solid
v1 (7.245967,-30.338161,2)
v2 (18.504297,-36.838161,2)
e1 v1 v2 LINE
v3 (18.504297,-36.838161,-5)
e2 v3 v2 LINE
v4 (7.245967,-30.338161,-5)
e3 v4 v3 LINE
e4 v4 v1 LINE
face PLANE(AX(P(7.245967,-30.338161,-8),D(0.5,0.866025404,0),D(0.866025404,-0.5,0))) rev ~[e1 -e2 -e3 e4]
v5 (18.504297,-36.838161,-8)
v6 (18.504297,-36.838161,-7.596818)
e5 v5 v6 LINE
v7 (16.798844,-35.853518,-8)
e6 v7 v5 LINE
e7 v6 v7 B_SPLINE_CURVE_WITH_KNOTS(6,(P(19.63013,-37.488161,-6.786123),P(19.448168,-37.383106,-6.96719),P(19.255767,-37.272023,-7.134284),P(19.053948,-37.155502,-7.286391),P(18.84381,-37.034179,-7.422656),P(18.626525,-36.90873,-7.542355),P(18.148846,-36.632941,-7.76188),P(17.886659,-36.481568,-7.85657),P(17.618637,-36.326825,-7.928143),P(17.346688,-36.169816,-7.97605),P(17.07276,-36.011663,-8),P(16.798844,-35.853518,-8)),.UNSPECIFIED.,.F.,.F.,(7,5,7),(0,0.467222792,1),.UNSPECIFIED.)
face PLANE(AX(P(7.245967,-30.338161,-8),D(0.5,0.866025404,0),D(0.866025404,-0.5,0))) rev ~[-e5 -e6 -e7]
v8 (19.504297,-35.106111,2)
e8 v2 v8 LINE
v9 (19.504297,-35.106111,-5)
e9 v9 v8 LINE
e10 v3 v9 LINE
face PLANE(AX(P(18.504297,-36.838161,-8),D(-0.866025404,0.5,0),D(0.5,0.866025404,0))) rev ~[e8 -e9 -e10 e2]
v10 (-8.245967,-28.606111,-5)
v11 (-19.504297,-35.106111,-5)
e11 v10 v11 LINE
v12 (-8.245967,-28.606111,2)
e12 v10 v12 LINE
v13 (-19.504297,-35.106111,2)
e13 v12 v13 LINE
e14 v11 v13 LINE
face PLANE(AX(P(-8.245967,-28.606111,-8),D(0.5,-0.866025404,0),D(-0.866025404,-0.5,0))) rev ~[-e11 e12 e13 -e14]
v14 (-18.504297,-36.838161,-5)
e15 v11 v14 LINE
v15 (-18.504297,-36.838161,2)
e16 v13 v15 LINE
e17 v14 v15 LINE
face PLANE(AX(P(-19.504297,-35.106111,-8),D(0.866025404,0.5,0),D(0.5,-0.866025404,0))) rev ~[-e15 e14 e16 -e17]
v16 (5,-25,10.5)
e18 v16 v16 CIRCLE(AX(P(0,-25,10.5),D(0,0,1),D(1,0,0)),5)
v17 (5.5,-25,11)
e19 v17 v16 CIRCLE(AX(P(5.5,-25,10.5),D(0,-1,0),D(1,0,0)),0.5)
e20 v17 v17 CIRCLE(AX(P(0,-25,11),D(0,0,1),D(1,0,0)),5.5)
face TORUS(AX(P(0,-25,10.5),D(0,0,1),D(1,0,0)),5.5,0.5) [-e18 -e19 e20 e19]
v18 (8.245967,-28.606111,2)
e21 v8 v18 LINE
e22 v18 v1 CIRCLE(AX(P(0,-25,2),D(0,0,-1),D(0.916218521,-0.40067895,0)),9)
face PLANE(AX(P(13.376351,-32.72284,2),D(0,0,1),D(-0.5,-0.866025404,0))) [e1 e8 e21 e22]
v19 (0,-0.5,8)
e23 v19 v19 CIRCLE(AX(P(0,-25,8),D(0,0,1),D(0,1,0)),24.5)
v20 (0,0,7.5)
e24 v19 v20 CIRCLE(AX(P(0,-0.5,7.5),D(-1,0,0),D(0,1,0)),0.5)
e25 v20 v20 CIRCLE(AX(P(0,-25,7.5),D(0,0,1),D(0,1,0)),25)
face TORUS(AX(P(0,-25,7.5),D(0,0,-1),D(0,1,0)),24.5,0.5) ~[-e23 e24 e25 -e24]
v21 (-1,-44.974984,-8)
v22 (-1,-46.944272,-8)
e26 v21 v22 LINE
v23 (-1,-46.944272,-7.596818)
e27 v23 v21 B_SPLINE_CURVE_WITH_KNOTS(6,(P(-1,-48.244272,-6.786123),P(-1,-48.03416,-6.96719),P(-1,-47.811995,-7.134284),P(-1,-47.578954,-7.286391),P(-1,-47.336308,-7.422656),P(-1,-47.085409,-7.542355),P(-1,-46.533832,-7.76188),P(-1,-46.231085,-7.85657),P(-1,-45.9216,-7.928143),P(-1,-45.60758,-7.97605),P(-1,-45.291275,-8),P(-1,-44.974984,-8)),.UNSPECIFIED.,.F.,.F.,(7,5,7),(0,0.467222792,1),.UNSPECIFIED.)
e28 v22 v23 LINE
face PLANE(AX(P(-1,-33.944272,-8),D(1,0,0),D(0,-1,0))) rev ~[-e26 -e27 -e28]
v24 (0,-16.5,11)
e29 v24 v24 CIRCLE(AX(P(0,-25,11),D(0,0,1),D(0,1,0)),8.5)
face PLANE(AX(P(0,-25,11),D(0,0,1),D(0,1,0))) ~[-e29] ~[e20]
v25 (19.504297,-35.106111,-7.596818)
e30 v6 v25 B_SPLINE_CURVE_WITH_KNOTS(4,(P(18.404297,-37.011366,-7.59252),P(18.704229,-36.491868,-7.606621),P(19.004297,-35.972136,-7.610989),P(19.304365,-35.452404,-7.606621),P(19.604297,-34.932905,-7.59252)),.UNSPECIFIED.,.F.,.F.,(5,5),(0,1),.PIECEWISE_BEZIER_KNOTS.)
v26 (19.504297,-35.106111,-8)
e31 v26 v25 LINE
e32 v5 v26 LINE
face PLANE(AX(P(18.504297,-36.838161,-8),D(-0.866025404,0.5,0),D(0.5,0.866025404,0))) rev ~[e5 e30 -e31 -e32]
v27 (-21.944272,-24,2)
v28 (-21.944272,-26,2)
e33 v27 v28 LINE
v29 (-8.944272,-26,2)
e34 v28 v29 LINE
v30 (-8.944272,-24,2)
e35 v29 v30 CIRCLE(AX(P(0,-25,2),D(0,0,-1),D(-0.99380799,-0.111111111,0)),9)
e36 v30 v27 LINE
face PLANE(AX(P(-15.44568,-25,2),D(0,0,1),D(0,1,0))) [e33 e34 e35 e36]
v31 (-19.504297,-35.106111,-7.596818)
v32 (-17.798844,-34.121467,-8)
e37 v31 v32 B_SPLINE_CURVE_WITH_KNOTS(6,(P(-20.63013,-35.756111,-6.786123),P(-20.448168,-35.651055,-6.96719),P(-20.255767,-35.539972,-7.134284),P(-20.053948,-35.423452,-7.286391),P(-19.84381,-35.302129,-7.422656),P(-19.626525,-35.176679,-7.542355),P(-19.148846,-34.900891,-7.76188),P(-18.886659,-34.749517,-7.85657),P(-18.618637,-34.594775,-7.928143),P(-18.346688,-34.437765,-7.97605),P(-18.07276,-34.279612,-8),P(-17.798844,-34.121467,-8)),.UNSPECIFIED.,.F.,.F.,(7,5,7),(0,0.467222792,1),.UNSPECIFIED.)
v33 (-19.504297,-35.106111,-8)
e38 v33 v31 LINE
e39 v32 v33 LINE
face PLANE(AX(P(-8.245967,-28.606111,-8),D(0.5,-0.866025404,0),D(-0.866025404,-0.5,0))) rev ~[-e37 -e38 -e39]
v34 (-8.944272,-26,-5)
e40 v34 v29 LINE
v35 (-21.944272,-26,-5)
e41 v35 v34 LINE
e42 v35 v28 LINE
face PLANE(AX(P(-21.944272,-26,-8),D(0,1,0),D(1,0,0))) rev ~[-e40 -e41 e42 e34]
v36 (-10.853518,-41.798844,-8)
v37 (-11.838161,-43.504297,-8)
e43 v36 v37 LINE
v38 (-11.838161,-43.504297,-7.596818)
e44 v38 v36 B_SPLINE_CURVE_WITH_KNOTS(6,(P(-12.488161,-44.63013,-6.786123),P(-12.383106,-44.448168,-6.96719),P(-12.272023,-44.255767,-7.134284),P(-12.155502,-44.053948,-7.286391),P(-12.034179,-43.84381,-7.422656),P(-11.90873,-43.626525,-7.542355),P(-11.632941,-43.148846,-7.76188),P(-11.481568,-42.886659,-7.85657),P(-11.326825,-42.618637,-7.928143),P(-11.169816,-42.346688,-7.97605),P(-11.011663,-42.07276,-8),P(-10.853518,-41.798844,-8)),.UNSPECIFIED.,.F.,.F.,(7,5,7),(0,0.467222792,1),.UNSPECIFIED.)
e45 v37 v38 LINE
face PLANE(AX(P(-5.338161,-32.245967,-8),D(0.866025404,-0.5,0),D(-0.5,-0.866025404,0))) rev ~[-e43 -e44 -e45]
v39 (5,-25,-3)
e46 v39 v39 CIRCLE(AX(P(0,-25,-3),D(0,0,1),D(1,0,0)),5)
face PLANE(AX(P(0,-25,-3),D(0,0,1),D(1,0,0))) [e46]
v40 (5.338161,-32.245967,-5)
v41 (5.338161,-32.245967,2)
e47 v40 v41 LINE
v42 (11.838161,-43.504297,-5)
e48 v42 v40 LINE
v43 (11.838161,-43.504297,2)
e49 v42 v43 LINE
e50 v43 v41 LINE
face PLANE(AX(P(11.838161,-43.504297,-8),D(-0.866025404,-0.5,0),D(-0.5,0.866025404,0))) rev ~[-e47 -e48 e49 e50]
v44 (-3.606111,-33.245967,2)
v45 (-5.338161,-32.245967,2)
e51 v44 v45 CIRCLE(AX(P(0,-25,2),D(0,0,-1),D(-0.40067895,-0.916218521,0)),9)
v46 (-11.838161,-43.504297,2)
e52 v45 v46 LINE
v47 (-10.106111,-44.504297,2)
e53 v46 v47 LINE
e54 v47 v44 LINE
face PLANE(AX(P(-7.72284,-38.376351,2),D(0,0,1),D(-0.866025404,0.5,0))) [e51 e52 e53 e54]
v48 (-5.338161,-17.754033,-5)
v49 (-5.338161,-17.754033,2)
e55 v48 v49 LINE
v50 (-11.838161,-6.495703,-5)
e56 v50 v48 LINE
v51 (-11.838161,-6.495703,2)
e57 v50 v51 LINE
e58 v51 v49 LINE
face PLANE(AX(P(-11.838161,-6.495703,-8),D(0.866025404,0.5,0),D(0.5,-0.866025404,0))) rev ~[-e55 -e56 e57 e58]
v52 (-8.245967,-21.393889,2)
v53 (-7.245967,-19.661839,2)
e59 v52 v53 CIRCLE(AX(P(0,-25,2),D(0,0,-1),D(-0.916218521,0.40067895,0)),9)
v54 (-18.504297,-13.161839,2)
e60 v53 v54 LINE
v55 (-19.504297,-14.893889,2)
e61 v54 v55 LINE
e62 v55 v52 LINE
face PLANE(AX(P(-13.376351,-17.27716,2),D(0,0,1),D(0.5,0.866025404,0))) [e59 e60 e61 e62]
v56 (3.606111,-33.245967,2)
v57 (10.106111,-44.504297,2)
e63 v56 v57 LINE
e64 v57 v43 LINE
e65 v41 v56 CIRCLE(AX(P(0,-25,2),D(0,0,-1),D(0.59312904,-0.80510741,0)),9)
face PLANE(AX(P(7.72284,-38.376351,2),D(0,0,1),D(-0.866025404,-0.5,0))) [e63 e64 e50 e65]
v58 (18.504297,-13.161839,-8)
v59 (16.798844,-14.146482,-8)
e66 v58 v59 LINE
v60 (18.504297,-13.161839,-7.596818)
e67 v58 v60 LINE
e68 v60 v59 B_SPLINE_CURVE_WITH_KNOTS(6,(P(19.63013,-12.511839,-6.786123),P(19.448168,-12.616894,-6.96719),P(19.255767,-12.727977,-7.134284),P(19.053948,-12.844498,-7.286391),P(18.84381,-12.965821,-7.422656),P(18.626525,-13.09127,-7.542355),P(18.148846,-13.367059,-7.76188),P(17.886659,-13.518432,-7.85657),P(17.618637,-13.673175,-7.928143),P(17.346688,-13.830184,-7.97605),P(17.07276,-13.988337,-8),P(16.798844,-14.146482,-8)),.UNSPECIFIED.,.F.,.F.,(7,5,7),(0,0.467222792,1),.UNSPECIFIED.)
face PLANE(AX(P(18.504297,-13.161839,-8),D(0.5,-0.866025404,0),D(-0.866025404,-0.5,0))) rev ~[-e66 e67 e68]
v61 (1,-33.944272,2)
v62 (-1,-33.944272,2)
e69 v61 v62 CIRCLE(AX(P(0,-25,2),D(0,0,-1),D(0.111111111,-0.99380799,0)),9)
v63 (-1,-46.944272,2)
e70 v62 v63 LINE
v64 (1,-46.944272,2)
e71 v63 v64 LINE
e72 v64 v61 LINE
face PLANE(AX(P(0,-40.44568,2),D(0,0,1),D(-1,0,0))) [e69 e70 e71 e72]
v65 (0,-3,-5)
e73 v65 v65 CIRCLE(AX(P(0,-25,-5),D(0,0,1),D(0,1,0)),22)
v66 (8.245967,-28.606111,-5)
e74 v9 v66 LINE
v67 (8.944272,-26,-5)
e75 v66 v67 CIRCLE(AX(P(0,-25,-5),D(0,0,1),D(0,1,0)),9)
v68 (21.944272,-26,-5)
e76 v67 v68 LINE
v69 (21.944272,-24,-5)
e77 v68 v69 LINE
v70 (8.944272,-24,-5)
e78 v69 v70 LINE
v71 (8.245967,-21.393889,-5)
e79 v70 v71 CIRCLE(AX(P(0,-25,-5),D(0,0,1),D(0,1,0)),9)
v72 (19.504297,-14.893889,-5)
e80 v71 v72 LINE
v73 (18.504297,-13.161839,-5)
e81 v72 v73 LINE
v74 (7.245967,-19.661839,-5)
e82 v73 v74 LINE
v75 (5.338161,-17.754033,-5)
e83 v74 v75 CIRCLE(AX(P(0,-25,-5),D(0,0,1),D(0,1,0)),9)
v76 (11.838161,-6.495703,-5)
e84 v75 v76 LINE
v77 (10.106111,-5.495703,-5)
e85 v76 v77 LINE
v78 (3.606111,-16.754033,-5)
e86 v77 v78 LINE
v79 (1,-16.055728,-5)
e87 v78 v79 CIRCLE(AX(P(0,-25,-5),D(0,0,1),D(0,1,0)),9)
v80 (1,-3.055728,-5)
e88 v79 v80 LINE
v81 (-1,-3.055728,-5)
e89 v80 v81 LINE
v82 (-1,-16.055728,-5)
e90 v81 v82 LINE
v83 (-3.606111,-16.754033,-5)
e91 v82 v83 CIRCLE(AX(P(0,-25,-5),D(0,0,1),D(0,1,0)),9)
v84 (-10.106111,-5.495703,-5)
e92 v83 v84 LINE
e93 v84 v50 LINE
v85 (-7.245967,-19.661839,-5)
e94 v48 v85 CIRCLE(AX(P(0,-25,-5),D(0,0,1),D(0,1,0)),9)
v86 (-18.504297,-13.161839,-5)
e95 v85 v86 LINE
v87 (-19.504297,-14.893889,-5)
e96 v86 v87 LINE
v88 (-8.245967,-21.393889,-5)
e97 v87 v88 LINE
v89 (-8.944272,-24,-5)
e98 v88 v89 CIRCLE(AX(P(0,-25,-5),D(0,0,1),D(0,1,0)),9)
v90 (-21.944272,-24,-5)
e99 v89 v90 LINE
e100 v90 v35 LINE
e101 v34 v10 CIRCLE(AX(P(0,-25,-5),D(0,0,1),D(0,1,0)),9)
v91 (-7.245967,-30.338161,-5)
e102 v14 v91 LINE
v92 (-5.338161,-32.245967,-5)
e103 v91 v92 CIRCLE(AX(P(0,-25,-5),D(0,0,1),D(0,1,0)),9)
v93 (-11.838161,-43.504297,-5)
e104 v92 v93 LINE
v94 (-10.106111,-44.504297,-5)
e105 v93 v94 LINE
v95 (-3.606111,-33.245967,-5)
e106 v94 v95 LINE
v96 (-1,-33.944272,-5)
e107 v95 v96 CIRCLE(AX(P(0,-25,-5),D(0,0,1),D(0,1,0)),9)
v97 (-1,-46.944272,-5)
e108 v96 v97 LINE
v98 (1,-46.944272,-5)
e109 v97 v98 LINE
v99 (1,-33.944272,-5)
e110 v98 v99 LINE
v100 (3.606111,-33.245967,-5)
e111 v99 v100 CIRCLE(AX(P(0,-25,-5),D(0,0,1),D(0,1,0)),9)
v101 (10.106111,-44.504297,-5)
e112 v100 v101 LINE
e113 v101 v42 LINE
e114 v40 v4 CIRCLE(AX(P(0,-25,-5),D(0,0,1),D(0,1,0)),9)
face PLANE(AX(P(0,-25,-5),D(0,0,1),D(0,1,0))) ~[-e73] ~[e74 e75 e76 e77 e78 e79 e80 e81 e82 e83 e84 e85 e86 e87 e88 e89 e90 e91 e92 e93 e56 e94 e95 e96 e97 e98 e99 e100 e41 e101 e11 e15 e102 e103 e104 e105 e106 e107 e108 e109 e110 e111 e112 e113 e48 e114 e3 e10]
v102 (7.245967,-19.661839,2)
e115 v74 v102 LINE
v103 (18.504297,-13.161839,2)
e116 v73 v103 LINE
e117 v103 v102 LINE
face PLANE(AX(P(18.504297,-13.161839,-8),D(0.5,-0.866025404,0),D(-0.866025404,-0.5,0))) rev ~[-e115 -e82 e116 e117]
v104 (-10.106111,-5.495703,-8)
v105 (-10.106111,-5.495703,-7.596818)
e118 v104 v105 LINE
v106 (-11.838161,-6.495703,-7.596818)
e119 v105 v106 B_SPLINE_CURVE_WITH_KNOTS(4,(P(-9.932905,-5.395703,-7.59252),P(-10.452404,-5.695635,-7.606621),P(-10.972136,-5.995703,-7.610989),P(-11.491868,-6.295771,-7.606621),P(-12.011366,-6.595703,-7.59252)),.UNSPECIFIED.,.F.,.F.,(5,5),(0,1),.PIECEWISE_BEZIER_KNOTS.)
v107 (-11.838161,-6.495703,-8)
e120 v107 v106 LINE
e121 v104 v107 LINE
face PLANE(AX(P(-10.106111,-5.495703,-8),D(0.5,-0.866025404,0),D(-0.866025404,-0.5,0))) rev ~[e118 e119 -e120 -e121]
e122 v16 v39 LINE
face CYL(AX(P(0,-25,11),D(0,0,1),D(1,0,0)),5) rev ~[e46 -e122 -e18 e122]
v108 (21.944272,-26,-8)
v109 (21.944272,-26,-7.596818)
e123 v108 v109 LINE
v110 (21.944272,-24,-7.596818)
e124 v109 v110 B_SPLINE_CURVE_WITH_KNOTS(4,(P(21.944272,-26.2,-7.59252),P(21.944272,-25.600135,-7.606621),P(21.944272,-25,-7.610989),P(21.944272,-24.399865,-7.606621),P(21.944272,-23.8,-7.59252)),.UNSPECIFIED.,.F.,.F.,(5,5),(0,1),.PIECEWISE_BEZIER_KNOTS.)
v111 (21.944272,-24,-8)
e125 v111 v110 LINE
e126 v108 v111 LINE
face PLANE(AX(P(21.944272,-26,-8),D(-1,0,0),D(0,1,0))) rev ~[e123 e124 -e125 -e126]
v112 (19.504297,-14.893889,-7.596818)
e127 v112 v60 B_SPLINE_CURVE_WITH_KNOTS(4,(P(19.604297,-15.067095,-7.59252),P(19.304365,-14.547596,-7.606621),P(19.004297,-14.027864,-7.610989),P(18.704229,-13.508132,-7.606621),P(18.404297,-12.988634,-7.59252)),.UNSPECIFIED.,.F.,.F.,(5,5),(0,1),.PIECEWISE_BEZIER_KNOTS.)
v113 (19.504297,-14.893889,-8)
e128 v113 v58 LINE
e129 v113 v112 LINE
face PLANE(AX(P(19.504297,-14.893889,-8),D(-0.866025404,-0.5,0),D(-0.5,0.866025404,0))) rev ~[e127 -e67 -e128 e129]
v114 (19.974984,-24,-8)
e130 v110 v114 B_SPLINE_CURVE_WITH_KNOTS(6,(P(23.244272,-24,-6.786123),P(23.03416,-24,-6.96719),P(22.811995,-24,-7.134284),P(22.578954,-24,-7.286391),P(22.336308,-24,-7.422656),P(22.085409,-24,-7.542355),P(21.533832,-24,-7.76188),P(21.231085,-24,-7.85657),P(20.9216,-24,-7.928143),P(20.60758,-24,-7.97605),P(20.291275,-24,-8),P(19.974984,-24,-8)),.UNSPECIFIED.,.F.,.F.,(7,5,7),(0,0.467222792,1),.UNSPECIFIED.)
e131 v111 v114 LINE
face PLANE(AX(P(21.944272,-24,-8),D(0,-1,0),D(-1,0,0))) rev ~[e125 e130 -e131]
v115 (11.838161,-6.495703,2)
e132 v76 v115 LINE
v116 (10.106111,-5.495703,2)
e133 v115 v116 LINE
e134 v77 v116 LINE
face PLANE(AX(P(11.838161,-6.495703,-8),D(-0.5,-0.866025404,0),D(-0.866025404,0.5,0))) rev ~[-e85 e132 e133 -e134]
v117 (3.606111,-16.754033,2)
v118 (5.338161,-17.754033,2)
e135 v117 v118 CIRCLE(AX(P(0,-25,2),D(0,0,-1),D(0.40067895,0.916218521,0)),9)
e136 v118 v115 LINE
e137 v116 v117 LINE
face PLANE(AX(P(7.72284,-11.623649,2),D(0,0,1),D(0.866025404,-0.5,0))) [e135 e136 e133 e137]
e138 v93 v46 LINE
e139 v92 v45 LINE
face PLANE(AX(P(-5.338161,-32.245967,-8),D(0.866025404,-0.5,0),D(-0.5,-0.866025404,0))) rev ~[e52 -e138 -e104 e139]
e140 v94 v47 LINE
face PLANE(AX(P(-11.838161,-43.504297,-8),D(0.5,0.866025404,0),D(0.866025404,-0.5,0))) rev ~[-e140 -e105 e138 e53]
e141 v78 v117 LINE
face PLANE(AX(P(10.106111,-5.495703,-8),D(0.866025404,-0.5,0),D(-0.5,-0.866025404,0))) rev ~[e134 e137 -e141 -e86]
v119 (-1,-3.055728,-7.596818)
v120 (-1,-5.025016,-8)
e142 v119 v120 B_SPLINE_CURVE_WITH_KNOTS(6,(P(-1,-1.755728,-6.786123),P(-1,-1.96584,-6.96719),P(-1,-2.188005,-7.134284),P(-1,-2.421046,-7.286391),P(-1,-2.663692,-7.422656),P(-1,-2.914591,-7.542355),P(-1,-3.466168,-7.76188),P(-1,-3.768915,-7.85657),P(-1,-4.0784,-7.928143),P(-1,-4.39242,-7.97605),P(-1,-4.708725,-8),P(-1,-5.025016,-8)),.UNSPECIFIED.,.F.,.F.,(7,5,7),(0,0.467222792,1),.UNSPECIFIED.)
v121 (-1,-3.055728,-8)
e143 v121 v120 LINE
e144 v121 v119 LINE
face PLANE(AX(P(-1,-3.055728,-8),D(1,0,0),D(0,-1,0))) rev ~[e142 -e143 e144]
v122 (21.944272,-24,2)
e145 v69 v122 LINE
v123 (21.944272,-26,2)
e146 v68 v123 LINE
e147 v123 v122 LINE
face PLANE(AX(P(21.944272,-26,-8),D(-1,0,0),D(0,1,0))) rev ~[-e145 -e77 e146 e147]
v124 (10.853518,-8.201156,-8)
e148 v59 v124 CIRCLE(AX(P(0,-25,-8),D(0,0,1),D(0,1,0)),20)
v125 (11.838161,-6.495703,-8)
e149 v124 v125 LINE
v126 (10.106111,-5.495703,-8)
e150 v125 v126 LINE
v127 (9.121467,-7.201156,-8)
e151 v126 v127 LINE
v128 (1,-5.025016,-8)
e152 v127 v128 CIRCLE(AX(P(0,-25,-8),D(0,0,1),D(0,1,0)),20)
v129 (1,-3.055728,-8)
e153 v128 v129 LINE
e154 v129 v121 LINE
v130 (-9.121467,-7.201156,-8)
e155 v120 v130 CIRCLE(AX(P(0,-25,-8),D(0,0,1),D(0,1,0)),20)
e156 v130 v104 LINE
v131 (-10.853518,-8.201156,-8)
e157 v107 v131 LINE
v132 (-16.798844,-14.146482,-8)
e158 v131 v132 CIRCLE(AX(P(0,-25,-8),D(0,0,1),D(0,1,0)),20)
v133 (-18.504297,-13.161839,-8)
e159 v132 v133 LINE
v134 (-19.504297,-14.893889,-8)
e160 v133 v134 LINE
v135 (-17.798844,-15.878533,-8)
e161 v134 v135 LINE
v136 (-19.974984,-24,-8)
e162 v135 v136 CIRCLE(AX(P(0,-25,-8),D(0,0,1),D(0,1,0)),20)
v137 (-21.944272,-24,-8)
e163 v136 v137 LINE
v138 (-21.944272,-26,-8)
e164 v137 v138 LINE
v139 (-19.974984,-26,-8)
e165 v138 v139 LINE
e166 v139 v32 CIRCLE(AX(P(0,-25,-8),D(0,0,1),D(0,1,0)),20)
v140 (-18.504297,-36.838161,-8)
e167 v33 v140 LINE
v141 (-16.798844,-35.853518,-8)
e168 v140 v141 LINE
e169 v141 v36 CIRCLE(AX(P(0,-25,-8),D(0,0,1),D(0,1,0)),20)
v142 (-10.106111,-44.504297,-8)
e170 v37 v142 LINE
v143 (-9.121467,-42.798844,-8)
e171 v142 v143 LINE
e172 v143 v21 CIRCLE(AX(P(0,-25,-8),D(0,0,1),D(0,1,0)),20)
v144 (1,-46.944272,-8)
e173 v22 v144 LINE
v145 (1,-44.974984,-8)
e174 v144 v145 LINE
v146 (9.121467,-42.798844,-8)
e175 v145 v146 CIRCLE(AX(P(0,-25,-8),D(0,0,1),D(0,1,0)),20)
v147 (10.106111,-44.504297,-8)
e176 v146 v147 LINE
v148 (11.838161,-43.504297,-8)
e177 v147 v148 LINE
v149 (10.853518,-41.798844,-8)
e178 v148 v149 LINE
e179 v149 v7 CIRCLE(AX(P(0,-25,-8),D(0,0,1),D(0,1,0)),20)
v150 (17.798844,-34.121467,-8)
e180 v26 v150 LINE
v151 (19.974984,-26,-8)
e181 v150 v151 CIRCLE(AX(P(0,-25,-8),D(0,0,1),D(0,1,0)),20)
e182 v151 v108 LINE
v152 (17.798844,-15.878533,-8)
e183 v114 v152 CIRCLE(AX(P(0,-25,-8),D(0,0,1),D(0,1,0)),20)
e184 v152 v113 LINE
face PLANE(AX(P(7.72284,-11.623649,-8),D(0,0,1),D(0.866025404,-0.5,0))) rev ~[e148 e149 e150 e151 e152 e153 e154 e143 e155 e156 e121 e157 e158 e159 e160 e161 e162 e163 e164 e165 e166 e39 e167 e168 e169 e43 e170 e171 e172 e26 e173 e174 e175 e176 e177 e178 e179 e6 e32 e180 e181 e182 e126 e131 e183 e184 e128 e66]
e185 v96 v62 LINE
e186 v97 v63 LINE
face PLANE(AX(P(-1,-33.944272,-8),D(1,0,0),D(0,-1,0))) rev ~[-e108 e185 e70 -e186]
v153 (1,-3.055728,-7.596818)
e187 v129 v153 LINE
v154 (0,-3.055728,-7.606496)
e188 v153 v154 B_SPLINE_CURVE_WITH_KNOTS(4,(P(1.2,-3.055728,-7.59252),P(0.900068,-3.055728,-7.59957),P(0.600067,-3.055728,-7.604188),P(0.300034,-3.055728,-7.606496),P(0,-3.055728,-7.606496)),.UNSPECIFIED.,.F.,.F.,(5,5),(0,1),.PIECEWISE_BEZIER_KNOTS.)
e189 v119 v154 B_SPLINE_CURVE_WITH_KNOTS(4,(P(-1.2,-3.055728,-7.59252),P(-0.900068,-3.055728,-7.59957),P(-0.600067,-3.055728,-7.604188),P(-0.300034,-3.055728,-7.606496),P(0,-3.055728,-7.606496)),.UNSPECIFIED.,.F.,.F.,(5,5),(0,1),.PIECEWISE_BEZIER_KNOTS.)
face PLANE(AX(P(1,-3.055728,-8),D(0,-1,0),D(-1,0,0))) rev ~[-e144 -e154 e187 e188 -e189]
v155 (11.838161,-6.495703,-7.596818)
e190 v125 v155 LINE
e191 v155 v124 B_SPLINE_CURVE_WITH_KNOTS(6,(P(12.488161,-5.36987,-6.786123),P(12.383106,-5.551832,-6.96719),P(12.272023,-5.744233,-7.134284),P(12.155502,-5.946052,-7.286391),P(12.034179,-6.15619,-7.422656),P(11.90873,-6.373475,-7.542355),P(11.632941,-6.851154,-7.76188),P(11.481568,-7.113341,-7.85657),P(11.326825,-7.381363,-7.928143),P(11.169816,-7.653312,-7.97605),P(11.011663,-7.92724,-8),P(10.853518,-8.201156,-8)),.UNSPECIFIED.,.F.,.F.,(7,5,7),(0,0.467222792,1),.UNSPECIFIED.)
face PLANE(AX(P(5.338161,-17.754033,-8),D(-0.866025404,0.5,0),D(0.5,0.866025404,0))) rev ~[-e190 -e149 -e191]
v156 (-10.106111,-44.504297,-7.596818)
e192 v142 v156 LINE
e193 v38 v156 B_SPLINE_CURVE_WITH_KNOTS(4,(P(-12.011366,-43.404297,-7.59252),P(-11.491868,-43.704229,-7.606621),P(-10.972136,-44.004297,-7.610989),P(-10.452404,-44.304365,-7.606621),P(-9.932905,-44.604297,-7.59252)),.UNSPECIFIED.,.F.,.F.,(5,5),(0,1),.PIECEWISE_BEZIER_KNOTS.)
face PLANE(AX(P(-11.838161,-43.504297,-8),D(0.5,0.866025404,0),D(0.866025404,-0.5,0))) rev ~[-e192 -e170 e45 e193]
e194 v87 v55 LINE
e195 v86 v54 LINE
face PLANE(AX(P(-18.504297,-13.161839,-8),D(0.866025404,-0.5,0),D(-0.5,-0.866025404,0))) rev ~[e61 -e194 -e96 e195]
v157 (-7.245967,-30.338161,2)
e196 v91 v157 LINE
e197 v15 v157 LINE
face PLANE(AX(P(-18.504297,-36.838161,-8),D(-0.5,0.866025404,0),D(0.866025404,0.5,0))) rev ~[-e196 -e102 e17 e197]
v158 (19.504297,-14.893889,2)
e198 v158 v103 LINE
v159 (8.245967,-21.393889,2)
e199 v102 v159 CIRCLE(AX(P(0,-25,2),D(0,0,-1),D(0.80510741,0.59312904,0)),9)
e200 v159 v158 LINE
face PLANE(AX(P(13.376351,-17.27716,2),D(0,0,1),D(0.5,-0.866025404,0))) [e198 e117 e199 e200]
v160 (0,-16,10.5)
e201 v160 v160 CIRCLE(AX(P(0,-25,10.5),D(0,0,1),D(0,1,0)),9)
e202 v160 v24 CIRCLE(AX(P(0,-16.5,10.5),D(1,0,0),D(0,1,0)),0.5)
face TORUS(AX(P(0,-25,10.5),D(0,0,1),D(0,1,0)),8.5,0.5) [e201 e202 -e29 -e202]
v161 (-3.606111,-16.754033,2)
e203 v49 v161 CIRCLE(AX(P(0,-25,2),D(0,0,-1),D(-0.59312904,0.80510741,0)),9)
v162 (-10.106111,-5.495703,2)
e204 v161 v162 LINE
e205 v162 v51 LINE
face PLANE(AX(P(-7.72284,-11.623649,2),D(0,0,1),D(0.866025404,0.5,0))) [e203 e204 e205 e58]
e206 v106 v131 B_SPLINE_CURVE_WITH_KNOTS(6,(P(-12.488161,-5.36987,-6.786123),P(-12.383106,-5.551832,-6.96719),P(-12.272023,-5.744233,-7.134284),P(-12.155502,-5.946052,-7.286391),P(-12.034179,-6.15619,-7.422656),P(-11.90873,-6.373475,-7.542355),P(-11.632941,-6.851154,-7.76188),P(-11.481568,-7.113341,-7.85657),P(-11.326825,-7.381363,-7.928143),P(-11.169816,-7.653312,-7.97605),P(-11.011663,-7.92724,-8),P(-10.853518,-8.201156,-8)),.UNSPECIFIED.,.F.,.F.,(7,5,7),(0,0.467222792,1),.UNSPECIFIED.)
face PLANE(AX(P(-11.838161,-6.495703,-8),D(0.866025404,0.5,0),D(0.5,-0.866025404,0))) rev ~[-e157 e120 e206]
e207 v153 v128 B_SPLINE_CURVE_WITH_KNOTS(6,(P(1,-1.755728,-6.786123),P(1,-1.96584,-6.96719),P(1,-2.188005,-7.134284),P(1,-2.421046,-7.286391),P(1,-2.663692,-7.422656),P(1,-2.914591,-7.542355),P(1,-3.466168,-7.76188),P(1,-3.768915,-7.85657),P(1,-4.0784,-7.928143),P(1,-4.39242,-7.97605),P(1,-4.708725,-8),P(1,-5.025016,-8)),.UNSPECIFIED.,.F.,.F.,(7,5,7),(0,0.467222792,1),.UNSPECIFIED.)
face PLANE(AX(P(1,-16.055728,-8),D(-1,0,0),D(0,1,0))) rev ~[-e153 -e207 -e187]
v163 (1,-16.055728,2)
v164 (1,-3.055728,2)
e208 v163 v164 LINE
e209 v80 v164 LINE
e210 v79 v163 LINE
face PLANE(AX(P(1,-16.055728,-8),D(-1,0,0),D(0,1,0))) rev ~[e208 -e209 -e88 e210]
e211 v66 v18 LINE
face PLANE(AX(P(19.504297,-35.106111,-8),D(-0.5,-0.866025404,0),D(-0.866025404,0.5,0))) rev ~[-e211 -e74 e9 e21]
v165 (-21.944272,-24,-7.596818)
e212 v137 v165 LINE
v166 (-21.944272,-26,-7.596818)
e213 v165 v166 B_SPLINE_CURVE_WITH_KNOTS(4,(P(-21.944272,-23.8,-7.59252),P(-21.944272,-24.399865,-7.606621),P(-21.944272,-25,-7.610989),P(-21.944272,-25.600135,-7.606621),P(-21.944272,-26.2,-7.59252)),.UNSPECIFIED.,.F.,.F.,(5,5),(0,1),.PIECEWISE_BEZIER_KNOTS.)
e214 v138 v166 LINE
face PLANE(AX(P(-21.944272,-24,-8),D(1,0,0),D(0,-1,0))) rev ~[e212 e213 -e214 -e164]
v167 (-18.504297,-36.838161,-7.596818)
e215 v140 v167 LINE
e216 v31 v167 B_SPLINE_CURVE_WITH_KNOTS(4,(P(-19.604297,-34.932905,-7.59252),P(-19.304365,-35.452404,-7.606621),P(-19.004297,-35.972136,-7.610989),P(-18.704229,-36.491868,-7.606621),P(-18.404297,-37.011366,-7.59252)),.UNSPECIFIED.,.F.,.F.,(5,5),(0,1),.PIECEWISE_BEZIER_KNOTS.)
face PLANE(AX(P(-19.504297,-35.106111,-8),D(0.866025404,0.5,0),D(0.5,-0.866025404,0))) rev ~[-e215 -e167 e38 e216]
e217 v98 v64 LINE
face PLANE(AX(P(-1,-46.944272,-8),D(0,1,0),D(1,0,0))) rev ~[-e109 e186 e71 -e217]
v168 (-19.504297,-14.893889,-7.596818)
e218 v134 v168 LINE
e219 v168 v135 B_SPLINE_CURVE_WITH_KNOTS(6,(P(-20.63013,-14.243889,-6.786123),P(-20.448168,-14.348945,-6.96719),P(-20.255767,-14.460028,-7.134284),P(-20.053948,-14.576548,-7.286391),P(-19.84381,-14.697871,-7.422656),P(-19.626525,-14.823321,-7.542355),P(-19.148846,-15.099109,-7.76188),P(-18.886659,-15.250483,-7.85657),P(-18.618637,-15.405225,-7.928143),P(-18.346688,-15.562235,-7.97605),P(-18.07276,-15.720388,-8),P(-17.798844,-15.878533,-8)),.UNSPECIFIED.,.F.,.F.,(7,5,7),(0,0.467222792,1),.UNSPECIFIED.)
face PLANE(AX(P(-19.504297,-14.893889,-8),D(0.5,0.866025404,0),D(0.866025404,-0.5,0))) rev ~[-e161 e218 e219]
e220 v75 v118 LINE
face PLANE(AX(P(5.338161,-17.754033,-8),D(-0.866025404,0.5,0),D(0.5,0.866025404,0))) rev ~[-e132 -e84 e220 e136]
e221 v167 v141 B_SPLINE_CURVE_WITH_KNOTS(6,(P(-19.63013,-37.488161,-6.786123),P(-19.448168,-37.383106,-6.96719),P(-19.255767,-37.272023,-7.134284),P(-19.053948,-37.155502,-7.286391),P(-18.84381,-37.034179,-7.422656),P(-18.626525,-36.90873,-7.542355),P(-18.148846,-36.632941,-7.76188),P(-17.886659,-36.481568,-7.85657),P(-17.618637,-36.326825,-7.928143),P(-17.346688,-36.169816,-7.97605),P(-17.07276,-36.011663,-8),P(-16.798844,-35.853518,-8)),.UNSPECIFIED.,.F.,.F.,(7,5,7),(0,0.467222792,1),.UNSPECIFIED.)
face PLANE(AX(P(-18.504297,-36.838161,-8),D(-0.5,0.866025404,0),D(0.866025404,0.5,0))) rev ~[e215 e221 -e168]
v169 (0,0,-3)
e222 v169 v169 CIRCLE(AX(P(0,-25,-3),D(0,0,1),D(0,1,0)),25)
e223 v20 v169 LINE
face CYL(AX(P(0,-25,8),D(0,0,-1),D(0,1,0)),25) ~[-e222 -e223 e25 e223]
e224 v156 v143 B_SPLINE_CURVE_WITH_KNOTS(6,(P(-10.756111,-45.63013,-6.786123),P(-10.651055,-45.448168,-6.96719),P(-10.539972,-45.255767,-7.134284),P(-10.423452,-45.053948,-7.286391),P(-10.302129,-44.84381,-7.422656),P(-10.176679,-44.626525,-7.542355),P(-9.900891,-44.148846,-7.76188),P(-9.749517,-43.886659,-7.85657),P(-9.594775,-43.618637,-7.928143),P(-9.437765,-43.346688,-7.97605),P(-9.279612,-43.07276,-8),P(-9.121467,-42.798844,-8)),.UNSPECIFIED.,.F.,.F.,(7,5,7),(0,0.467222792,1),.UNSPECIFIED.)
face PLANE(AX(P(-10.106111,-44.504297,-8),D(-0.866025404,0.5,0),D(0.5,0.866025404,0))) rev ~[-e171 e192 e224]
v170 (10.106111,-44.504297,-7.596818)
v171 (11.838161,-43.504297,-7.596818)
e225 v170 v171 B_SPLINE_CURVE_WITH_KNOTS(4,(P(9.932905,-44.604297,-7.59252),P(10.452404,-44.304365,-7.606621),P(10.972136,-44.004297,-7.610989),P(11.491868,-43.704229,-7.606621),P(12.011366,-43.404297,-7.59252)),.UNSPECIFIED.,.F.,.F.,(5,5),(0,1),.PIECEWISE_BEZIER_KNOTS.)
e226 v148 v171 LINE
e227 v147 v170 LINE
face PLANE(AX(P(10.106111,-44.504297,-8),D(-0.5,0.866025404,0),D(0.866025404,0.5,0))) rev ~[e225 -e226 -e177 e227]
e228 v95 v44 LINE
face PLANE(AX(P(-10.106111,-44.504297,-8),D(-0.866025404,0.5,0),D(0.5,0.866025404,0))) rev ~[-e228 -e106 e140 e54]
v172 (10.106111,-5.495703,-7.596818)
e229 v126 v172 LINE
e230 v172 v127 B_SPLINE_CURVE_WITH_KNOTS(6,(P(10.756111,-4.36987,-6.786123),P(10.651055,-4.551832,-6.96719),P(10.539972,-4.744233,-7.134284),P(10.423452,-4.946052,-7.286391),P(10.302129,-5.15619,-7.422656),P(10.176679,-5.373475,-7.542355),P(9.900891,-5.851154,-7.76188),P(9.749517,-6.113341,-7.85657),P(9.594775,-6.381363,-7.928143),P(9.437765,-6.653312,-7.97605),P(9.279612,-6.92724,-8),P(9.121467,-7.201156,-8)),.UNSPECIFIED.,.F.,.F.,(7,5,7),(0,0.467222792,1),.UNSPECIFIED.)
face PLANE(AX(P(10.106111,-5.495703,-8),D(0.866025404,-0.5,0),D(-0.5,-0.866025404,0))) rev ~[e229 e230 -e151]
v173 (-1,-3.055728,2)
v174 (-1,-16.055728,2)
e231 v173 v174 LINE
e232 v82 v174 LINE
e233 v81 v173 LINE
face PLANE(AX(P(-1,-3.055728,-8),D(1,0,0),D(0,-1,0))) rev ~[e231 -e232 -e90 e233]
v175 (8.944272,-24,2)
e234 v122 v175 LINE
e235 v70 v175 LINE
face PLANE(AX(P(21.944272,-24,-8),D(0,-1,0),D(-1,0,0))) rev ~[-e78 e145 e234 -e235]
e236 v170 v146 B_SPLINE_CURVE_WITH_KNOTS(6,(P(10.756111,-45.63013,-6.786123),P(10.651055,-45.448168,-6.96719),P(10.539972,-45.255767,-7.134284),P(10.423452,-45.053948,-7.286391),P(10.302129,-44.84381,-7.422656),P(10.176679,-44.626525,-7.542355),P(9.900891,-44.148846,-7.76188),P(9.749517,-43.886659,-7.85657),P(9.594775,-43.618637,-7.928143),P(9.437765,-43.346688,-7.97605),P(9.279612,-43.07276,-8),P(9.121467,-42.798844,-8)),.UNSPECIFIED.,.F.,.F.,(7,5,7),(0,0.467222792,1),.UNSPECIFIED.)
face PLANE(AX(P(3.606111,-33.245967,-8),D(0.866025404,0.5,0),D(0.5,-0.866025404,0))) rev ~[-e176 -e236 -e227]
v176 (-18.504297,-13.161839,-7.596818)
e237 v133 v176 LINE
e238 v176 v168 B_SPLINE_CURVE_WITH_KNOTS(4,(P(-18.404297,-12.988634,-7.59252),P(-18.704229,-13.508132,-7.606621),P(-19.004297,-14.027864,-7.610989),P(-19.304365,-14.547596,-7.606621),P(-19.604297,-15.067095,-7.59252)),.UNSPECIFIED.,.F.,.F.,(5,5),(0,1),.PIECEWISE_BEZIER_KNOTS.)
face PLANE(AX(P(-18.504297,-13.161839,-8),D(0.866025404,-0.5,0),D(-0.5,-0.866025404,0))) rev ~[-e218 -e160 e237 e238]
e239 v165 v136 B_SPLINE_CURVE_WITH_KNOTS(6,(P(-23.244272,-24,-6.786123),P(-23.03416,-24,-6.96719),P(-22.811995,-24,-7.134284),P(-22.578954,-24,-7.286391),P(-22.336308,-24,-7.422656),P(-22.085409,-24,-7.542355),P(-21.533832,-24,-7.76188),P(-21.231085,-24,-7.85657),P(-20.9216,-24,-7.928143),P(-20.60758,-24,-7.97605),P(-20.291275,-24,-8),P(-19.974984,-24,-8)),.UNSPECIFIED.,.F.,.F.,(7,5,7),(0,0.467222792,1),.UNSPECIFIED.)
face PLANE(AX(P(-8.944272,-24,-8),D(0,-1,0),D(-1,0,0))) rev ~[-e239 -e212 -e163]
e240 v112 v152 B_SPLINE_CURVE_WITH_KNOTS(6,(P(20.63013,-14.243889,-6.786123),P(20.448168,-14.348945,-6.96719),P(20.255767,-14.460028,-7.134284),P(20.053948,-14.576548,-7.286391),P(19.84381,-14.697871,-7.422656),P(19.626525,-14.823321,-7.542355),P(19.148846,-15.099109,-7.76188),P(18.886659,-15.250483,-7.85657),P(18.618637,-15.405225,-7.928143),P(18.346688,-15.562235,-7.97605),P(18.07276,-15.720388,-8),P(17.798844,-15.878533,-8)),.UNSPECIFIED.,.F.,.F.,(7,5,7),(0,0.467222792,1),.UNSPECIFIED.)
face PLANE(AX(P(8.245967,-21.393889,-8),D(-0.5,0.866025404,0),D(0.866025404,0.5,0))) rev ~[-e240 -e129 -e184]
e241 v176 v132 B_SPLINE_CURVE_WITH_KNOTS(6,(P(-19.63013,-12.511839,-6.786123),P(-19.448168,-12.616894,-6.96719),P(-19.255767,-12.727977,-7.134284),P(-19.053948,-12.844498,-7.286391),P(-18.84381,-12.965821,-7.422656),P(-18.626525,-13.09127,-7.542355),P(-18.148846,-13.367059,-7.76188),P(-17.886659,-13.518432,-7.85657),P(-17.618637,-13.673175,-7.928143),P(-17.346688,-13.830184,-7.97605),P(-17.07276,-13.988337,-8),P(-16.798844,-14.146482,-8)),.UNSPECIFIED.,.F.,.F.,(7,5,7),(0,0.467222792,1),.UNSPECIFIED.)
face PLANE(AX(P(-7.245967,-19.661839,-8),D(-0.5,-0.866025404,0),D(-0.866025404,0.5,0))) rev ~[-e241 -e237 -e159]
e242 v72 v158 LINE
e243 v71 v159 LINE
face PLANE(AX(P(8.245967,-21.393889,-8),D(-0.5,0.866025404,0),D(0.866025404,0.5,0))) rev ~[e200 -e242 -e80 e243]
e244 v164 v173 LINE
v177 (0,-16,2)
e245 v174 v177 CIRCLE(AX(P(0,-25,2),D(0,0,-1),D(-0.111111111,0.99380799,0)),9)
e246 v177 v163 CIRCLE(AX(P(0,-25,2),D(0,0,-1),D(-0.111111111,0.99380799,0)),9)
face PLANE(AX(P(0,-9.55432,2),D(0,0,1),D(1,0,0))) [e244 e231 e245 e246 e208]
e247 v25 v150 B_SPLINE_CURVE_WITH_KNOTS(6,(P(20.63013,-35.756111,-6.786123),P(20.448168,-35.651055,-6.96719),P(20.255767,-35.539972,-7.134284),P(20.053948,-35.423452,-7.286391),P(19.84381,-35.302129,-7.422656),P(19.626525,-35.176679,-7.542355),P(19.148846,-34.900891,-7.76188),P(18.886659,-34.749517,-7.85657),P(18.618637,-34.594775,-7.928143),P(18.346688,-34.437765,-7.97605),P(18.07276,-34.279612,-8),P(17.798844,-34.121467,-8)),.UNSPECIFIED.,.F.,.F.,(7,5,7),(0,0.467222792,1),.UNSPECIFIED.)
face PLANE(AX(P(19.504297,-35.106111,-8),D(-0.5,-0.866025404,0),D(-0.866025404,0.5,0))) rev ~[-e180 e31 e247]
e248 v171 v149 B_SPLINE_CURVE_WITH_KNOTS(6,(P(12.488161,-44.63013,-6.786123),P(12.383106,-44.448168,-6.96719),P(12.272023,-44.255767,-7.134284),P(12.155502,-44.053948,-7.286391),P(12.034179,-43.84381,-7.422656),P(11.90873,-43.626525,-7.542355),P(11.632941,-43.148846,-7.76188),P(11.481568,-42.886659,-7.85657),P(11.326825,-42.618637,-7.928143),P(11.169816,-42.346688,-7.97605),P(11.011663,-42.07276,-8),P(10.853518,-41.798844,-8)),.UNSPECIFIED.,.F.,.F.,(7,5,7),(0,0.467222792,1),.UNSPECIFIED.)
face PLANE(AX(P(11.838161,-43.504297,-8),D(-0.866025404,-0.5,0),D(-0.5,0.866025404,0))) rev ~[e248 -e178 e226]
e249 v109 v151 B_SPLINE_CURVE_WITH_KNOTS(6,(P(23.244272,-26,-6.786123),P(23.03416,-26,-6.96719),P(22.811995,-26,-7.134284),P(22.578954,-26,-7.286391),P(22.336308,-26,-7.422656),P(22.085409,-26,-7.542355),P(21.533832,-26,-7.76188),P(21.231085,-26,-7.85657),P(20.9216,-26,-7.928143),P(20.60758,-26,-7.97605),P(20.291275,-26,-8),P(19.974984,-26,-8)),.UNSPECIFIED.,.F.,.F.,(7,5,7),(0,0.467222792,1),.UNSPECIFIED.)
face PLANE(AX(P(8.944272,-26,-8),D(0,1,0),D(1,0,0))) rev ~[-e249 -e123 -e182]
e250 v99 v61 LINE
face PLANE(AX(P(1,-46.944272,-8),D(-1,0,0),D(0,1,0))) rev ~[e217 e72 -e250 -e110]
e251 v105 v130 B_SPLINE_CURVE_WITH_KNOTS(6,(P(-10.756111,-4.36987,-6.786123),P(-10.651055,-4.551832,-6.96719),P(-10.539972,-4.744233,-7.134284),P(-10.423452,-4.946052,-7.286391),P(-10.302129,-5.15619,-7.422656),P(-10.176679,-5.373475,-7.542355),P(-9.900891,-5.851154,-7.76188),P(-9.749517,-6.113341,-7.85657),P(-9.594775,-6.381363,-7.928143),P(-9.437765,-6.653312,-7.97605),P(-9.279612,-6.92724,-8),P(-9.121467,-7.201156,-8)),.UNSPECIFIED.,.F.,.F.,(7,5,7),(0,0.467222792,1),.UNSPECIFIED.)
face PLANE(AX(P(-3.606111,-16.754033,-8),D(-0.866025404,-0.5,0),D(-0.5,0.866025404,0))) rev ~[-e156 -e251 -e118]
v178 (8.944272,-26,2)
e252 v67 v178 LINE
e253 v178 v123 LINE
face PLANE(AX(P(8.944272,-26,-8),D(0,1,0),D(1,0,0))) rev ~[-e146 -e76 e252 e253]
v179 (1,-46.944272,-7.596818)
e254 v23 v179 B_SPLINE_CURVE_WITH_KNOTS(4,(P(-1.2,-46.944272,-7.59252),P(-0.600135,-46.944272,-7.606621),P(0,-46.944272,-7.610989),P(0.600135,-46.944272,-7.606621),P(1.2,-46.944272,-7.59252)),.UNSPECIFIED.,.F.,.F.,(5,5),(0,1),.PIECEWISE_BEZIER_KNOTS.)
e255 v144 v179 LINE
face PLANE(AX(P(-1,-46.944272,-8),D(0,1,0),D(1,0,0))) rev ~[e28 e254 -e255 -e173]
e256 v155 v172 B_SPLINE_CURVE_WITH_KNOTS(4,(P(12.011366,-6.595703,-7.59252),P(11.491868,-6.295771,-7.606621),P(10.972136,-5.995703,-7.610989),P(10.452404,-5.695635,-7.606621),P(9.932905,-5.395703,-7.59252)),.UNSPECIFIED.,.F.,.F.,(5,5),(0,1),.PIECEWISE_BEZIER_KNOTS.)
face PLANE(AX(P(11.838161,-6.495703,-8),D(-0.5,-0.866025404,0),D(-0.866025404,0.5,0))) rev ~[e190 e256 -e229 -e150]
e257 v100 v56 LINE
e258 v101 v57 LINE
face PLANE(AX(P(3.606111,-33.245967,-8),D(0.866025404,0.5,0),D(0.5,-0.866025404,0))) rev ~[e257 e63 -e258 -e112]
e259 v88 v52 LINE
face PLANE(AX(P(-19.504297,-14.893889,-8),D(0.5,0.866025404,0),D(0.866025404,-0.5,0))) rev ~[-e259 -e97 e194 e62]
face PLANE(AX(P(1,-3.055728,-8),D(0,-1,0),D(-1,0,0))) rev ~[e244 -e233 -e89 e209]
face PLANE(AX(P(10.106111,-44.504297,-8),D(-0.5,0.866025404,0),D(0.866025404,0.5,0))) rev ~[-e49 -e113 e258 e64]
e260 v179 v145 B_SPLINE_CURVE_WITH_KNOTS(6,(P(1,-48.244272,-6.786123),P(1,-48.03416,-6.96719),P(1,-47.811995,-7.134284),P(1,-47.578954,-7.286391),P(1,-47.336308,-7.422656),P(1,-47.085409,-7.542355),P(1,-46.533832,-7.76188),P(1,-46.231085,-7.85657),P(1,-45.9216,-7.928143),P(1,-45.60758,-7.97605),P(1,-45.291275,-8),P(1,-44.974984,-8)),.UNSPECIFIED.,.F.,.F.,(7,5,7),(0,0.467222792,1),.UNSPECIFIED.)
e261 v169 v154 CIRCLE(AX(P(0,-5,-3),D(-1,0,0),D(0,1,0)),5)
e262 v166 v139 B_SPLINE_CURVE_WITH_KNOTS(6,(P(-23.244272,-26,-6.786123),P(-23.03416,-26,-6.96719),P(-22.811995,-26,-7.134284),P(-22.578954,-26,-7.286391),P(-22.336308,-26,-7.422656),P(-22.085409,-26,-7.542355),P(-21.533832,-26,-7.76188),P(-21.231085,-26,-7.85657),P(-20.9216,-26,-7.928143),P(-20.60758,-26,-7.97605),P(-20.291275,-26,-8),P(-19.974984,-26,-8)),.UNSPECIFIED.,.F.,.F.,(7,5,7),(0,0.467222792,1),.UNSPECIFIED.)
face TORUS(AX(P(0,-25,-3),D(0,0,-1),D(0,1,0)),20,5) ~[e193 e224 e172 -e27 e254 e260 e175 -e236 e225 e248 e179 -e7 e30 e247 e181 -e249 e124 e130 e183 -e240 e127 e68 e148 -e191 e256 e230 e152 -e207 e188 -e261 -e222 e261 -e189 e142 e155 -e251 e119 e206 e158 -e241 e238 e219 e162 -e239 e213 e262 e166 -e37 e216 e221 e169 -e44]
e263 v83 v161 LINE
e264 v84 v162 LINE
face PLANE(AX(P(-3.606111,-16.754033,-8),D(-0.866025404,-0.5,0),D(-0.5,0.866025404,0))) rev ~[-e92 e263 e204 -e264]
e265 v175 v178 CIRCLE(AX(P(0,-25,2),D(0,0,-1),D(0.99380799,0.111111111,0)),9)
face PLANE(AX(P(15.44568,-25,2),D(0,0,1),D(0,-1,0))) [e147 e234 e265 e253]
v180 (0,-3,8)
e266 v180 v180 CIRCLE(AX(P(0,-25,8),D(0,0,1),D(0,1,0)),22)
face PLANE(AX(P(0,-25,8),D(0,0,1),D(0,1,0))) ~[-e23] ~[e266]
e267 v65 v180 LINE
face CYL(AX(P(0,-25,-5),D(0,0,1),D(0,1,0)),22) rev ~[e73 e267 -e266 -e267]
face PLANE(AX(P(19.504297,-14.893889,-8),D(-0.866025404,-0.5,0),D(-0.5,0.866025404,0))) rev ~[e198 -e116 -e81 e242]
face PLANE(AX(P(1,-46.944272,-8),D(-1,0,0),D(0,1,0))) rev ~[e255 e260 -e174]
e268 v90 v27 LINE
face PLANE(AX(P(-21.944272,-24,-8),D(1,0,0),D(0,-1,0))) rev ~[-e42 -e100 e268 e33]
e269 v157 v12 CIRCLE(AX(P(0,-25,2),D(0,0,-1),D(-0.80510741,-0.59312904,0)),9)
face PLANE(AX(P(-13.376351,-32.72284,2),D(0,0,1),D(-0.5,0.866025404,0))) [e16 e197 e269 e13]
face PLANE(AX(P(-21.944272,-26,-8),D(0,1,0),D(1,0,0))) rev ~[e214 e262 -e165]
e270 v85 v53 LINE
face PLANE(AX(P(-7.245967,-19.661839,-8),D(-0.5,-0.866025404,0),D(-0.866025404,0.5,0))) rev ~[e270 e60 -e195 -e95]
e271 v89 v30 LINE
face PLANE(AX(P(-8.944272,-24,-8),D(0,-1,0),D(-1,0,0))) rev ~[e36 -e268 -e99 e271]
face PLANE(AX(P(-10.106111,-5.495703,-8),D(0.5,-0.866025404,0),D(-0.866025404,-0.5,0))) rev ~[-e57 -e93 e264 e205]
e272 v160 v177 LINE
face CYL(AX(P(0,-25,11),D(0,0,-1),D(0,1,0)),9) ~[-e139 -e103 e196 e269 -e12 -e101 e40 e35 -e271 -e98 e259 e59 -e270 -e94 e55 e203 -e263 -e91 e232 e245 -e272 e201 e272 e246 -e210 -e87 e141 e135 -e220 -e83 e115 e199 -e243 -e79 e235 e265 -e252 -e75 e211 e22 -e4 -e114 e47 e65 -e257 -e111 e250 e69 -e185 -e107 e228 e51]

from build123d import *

# Parameters (mm, degrees)
FILLET1_R           = 5
BOSS_EXTRUDE1_DEPTH = 10
CIRPATTERN1_COUNT   = 12
SKETCH3_R           = 5
CUT_EXTRUDE1_DEPTH  = 14
FILLET2_R           = 0.5
FILLET3_R           = 0.5


with BuildPart() as part:
    # Sketch1 → Revolve1 (revolve)
    with BuildSketch(Plane(origin=(0, 0, 0), x_dir=(0, 0, -1), z_dir=(1, 0, 0))):
        Polygon((-8, 0), (8, 0), (8, -25), (-11, -25), (-11, -16), (5, -16), (5, -3), (-8, -3), align=None)
    revolve(axis=Axis((0, -25, -8), (0, 0, 1)))

    # Fillet1
    fillet1_edges = [part.edges().sort_by_distance(p)[0] for p in [
        (0, -50, -8),
    ]]
    fillet(fillet1_edges, radius=FILLET1_R)

    # Sketch2 → Boss-Extrude1 (add)
    with BuildSketch(Plane(origin=(0, 0, -8), x_dir=(-1, 0, 0), z_dir=(0, 0, -1))):
        with BuildLine():
            Line((-1, -3.05572809), (1, -3.05572809))
            Line((1, -3.05572809), (1, -16.05572809))
            ThreePointArc((1, -16.05572809), (0, -16), (-1, -16.05572809))
            Line((-1, -16.05572809), (-1, -3.05572809))
        make_face()
    boss_extrude1 = extrude(amount=-BOSS_EXTRUDE1_DEPTH)

    # CirPattern1: Boss-Extrude1 ×12 about axis
    cirpattern1_axis = Axis((0, -25, 0), (0, 0, 1))
    for i in range(1, CIRPATTERN1_COUNT):
        add(boss_extrude1.rotate(cirpattern1_axis, i * 360 / CIRPATTERN1_COUNT))

    # Sketch3 → Cut-Extrude1 (cut)
    with BuildSketch(Plane.XY.offset(11)):
        with Locations((0, -25)):
            Circle(SKETCH3_R)
    extrude(amount=-CUT_EXTRUDE1_DEPTH, mode=Mode.SUBTRACT)

    # Fillet2
    fillet2_edges = [part.edges().sort_by_distance(p)[0] for p in [
        (-5, -25, 11),
        (0, -34, 11),
    ]]
    fillet(fillet2_edges, radius=FILLET2_R)

    # Fillet3
    fillet3_edges = [part.edges().sort_by_distance(p)[0] for p in [
        (0, -50, 8),
    ]]
    fillet(fillet3_edges, radius=FILLET3_R)


solid = part.part
